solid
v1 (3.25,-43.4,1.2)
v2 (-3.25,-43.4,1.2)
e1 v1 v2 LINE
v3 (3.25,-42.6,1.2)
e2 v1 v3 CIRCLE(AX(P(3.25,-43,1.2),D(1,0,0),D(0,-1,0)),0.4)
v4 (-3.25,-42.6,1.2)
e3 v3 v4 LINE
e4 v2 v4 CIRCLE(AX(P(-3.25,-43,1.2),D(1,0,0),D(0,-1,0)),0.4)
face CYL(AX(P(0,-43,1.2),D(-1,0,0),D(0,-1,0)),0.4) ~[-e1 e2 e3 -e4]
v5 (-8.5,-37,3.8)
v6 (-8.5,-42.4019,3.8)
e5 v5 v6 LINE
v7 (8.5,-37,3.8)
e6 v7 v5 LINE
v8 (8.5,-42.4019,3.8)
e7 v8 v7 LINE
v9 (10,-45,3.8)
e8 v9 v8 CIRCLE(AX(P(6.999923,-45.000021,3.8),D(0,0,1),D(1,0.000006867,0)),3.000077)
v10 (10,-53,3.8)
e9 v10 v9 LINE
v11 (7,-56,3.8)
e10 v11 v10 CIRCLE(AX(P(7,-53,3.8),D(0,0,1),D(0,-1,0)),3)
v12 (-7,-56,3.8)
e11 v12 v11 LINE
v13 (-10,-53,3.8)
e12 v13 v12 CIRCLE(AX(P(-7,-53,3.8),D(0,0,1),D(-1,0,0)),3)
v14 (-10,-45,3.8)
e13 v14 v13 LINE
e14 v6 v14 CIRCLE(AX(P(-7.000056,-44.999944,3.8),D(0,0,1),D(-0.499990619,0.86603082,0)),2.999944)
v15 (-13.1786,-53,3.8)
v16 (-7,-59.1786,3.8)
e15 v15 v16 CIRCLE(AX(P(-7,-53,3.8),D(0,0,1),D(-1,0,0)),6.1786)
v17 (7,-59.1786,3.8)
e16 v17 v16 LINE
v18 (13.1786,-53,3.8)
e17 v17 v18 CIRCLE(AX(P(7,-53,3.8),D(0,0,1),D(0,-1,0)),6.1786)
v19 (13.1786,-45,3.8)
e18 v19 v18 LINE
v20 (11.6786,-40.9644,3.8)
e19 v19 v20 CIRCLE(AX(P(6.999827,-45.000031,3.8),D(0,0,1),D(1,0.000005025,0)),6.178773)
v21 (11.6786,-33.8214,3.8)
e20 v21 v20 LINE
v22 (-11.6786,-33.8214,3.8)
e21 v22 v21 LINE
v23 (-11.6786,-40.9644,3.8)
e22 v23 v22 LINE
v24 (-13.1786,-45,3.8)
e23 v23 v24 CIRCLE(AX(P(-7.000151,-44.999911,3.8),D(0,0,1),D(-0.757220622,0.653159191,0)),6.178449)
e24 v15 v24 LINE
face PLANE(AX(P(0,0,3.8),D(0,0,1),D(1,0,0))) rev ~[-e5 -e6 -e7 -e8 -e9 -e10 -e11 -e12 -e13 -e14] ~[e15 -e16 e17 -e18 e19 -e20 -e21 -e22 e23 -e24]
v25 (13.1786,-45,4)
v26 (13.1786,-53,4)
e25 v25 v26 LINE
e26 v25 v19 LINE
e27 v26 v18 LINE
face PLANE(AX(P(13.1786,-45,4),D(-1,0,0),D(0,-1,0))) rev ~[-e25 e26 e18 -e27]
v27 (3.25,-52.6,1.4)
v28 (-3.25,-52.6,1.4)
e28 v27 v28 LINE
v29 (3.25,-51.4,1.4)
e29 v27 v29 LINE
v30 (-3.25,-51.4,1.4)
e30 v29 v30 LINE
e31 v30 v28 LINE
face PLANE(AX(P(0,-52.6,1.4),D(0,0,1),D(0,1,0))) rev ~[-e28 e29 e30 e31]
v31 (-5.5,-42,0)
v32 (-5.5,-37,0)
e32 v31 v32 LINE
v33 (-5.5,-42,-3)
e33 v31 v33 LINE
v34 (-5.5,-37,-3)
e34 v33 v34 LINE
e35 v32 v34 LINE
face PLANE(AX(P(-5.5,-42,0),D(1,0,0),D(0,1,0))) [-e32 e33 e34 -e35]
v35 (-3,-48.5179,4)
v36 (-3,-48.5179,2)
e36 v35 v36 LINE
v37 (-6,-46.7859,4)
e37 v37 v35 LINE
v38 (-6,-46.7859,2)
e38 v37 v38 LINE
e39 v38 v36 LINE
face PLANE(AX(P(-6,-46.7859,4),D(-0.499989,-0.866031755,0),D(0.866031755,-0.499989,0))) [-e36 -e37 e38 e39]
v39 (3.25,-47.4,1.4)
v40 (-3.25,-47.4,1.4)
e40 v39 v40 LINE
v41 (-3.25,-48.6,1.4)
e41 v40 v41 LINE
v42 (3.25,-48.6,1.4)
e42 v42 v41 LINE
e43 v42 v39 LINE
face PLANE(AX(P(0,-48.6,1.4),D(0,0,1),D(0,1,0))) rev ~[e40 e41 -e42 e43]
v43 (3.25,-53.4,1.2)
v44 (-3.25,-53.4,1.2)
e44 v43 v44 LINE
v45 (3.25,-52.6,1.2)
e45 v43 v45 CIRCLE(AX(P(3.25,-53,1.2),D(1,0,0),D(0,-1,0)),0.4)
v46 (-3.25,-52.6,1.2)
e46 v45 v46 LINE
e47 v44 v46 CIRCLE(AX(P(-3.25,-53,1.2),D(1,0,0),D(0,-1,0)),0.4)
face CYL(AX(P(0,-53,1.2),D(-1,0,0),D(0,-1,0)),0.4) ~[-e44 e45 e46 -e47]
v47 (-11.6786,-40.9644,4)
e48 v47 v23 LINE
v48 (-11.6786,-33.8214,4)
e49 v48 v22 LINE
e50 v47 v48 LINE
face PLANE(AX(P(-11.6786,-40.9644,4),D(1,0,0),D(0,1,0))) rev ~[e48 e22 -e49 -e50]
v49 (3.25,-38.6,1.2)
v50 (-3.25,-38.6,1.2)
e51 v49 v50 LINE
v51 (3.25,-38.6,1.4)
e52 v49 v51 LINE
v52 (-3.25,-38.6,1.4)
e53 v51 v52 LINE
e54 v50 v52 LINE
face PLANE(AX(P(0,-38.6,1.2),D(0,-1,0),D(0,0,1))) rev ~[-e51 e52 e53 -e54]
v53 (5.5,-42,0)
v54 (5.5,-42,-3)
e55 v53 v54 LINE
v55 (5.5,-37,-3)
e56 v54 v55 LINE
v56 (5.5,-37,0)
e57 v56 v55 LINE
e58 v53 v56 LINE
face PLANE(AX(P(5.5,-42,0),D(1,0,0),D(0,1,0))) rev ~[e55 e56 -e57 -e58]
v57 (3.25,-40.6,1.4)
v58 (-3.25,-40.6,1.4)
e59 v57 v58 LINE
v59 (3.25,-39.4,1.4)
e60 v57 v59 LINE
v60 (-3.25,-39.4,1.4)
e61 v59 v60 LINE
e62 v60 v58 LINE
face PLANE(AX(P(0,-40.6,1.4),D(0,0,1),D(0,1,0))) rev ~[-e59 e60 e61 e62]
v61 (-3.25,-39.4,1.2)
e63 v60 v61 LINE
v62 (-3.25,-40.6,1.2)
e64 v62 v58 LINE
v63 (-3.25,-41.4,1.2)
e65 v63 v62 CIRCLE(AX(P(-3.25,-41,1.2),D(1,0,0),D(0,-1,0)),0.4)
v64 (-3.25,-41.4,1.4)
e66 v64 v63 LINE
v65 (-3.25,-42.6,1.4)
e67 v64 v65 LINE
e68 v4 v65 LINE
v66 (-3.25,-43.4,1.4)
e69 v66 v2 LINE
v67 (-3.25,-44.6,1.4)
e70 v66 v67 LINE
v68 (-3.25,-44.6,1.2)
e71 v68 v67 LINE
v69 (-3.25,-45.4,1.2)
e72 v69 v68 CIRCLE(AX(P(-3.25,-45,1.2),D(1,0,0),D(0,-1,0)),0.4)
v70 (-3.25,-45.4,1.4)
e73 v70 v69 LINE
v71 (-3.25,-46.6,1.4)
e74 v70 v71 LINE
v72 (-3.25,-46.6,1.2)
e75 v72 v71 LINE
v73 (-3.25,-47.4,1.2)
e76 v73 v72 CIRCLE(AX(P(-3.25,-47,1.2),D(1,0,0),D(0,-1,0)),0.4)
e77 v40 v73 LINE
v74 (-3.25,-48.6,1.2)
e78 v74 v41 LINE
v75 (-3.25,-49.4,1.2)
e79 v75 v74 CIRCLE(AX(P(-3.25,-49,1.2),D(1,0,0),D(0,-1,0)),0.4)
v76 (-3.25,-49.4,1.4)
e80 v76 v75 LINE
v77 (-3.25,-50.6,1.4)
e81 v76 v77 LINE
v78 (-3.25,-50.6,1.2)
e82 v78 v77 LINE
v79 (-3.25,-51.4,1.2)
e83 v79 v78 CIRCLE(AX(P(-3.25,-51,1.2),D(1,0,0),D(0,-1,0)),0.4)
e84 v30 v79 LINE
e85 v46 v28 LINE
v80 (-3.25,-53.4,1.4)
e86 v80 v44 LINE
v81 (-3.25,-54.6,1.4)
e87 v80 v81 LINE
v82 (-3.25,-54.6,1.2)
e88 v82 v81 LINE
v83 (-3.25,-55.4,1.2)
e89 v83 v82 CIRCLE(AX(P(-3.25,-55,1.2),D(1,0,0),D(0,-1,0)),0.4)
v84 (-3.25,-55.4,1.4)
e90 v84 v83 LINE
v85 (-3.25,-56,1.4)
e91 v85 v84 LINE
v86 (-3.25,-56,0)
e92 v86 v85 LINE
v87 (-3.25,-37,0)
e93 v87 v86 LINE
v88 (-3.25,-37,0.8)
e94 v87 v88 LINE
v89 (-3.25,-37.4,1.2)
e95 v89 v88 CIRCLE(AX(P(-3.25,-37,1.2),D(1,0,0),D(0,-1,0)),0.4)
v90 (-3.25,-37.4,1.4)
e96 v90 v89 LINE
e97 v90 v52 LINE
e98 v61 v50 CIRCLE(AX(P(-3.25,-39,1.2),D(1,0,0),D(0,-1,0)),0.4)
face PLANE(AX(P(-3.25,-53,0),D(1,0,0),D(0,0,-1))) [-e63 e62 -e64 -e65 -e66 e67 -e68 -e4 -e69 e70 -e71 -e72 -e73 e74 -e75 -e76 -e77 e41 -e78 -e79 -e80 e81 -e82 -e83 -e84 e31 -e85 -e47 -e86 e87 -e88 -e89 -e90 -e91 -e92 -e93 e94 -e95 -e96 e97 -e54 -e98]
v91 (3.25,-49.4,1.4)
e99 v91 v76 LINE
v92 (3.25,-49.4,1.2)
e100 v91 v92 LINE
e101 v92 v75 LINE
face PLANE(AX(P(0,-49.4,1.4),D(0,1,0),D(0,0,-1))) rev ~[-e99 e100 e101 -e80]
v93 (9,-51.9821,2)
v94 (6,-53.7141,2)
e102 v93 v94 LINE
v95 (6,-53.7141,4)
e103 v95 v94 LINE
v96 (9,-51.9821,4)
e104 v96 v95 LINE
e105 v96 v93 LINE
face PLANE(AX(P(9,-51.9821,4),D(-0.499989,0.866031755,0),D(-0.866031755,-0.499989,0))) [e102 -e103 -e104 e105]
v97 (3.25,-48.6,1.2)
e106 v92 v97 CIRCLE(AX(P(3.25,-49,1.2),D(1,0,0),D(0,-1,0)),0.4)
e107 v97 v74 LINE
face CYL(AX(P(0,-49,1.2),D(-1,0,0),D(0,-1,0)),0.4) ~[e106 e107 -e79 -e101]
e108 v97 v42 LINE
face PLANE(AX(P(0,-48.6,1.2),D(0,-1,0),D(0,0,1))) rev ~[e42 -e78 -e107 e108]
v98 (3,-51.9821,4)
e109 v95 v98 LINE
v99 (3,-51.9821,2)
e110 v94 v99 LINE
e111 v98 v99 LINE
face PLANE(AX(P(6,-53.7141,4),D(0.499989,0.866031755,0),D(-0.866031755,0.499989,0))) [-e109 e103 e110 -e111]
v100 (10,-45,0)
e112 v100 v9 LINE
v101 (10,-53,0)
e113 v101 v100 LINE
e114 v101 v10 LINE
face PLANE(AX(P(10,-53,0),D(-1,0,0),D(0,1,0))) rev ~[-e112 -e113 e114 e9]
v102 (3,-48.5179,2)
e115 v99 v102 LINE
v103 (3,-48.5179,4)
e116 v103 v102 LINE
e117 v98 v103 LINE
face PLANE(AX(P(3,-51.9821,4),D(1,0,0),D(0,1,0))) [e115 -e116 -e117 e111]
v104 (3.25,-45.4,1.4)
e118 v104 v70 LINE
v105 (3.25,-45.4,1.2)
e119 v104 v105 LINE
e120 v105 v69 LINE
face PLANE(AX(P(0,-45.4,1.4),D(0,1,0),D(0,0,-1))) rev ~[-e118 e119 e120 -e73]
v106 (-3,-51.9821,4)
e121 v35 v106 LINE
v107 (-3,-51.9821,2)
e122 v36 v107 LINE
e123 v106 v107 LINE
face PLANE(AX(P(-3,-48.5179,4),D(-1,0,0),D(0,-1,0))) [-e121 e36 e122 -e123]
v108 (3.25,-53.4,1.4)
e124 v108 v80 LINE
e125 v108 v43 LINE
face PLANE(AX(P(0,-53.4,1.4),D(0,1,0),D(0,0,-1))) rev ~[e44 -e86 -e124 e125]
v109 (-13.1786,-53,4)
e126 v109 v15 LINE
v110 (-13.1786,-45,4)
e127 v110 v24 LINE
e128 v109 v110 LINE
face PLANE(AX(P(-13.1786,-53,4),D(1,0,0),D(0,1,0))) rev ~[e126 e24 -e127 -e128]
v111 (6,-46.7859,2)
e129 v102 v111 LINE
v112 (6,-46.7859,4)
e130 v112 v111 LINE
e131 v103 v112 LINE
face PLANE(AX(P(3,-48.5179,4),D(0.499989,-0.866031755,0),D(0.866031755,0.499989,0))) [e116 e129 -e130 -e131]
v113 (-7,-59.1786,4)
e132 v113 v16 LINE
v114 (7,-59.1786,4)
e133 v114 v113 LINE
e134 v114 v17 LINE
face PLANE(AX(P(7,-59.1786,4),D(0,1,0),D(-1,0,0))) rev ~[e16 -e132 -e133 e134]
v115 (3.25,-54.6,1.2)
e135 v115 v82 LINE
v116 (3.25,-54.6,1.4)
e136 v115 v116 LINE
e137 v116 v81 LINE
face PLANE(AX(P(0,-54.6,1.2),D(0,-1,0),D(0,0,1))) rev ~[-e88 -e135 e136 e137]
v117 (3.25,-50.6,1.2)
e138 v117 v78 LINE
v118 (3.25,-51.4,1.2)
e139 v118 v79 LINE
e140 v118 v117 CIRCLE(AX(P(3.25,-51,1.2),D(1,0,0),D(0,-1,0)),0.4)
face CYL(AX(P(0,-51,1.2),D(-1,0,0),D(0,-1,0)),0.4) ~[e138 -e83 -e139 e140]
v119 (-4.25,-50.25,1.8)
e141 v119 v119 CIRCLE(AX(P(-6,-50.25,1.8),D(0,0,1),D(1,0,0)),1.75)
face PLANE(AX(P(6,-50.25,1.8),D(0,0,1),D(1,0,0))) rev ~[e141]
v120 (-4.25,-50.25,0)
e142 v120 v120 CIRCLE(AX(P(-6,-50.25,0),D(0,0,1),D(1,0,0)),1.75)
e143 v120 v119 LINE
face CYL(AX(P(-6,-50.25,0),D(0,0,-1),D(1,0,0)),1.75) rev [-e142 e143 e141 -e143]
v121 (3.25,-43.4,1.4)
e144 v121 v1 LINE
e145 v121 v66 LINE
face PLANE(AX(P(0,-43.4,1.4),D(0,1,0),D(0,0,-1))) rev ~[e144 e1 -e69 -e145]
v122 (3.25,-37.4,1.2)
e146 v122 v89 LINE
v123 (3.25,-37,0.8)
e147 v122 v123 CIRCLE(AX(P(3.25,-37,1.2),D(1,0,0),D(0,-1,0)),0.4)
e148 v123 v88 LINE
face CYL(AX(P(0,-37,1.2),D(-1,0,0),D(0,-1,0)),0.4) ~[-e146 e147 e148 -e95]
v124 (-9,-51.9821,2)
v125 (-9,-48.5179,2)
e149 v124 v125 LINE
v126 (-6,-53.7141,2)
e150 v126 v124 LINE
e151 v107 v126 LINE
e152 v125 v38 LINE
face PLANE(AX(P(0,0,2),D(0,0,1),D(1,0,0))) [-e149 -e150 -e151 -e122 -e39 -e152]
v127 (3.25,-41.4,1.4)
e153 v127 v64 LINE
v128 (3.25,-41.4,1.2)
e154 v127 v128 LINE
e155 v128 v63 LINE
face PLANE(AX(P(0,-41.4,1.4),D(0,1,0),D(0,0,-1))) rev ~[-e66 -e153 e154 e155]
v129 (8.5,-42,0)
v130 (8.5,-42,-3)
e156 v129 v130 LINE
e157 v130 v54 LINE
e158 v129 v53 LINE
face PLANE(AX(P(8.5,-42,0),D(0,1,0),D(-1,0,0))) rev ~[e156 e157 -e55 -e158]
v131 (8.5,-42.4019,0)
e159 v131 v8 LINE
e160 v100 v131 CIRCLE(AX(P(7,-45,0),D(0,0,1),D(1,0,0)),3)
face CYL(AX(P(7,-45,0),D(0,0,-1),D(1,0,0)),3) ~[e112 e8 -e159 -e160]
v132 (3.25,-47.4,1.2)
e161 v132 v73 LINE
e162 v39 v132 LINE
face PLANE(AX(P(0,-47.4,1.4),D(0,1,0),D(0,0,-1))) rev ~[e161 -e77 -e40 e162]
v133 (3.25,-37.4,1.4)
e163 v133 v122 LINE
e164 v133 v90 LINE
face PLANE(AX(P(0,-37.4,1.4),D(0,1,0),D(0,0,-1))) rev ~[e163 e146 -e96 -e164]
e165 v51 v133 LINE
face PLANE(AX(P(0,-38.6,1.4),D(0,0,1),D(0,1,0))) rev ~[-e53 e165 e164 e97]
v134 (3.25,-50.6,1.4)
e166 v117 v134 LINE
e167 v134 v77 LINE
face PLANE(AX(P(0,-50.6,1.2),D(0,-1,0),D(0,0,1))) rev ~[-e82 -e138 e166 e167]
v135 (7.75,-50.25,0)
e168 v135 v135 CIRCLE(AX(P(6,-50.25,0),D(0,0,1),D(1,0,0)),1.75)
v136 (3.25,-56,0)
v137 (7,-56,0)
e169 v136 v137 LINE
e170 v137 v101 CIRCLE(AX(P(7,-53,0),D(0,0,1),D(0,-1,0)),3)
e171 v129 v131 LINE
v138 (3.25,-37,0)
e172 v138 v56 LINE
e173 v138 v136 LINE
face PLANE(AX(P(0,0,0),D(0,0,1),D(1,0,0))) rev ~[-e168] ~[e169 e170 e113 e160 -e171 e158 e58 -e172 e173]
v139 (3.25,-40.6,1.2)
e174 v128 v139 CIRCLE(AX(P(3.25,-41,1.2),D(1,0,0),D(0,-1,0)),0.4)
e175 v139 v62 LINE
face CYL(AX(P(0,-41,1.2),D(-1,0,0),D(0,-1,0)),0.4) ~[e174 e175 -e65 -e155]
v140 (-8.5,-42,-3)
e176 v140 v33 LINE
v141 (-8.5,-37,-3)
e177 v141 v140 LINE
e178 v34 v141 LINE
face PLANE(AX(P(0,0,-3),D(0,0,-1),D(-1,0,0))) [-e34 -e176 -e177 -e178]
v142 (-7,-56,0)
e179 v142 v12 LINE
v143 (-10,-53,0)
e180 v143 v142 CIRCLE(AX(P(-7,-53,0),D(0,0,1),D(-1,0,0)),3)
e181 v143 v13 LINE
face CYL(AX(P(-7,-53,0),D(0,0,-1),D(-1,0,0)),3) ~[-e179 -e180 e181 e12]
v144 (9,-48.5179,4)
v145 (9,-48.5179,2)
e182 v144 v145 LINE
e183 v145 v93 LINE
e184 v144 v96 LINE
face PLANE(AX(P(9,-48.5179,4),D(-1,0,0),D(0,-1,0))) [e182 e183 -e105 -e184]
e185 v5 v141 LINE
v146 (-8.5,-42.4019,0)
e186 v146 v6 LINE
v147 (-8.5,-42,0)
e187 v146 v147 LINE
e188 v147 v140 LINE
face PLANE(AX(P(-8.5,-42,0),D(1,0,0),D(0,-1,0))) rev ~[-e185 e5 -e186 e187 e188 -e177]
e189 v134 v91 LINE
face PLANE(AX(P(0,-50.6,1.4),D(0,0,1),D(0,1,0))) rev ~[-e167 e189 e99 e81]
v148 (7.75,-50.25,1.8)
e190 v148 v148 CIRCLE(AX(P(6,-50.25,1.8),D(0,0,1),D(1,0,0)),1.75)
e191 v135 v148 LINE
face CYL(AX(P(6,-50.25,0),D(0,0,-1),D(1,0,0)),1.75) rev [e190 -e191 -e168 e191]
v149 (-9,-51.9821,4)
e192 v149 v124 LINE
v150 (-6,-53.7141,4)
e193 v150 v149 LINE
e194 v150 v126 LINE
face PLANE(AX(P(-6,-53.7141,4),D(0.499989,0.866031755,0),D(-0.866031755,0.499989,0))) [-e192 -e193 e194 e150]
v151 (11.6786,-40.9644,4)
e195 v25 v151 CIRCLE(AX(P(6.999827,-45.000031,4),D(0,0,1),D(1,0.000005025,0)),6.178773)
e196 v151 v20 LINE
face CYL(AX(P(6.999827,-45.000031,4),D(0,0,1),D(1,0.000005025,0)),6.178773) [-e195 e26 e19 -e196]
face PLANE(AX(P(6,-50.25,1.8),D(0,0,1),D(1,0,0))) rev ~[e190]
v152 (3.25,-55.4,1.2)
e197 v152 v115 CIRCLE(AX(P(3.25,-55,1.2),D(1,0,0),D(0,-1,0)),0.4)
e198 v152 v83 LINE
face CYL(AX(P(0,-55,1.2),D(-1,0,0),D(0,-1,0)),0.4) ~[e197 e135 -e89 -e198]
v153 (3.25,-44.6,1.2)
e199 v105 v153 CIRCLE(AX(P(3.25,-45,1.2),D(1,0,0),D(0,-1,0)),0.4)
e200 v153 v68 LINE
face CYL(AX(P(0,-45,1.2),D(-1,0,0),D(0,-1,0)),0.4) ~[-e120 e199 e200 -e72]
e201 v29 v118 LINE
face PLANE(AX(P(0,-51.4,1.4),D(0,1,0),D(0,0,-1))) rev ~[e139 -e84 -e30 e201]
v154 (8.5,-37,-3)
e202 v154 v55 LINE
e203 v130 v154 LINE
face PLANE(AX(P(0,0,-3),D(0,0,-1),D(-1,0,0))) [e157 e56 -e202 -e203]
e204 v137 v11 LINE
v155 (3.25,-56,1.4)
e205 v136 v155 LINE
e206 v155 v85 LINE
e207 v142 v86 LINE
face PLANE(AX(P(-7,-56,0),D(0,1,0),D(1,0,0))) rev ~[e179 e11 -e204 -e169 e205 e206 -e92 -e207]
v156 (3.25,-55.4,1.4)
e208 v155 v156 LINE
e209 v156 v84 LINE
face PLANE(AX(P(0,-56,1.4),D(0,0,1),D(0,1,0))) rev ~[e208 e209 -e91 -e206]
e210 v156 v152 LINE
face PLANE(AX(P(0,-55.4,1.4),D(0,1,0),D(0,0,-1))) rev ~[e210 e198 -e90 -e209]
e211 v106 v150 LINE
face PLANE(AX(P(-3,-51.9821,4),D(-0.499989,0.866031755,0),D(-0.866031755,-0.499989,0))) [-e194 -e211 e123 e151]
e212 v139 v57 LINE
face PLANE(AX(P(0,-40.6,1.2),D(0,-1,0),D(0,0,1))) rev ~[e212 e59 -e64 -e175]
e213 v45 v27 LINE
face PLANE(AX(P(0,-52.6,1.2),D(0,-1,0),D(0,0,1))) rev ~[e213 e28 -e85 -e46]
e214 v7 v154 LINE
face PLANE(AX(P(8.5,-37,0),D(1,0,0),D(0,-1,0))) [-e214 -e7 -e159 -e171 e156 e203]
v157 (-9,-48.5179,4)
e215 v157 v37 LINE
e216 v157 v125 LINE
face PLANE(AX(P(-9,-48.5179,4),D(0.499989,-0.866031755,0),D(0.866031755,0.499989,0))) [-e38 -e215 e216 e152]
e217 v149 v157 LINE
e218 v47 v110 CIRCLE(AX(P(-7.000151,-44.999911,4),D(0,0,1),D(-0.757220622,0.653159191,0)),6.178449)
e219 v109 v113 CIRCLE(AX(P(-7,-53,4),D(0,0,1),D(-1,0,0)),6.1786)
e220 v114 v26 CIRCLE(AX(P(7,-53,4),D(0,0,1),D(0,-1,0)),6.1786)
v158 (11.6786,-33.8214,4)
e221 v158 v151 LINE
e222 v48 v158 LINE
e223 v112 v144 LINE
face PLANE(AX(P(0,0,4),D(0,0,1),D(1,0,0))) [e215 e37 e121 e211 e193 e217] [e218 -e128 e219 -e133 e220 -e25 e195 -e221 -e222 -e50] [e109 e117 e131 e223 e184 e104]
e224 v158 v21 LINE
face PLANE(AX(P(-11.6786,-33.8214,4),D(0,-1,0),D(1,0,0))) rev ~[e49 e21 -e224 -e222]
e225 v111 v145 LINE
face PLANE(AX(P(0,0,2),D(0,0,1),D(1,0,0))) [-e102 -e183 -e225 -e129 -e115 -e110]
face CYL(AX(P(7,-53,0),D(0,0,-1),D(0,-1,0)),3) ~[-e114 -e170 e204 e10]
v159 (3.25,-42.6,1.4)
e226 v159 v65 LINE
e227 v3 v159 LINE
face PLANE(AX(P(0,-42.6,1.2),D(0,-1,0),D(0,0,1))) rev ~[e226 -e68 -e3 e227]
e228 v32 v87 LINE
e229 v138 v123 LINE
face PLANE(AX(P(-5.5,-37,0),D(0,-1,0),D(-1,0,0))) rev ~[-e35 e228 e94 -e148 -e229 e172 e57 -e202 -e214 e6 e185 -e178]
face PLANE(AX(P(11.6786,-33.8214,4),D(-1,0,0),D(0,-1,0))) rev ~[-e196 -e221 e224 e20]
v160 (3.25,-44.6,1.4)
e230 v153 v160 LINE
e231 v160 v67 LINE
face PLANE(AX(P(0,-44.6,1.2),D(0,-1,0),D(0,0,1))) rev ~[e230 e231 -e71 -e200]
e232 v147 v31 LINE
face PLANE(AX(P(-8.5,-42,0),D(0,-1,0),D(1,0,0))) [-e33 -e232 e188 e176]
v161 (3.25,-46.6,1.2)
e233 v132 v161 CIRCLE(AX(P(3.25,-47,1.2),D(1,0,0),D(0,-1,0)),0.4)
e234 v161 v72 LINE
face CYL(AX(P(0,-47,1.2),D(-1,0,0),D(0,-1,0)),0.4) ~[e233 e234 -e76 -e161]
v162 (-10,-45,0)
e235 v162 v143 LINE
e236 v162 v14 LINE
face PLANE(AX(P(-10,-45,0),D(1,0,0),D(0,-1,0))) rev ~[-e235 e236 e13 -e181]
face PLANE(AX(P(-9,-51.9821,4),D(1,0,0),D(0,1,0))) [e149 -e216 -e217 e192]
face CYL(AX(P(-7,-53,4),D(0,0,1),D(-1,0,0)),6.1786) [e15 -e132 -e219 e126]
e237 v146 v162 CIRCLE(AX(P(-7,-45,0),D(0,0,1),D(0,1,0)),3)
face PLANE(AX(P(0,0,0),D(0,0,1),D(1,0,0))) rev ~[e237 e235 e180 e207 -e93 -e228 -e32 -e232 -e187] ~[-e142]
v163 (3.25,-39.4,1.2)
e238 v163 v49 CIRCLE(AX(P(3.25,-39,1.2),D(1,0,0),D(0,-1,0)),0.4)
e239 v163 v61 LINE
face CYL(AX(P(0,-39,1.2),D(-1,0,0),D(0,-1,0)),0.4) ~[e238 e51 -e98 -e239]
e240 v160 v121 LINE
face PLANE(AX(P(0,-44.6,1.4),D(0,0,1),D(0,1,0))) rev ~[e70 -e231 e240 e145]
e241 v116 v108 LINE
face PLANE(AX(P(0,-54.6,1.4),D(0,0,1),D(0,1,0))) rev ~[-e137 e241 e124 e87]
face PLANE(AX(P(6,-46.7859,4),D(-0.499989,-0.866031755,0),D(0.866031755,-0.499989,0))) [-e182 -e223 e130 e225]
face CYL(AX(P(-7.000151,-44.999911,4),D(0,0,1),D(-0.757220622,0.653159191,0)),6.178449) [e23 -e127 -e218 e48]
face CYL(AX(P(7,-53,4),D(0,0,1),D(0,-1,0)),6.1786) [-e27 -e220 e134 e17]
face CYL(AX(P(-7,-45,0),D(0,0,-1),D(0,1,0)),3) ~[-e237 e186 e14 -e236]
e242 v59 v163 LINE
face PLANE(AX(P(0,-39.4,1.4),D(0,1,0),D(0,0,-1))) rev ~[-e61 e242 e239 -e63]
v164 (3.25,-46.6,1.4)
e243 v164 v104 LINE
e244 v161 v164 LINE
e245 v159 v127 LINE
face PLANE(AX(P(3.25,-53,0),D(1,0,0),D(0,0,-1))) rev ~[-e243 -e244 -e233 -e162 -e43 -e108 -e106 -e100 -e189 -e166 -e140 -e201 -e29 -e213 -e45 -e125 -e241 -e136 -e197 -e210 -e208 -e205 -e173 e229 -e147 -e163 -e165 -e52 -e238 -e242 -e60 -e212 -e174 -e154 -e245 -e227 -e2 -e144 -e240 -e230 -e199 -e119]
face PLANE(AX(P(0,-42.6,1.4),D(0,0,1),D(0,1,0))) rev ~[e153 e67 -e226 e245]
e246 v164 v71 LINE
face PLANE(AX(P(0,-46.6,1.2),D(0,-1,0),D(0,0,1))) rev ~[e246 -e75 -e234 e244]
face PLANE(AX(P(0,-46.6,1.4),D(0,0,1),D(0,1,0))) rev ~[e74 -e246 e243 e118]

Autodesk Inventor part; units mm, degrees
ref_plane "YZ Plane" through (0, 0, 0) normal (1, 0, 0) x (0, 1, 0)
ref_plane "Płaszczyzna konstrukcyjna1" through (0, 0, 0) normal (0, 0, 1) x (1, 0, 0)
sketch "Szkic1" plane through (0, 0, 0) normal (0, 0, 1) x (1, 0, 0)
  circle A0 centre (6, -50.25) radius 1.75 projected
  circle A1 centre (-6, -50.25) radius 1.75 projected
  circle A2 centre (6, -3.75) radius 1.75 construction
  circle A3 centre (-6, -3.75) radius 1.75 construction
  arc A4 (7, -56) -> (10, -53) centre (7, -53) ccw projected
  line L0 (10, -53) -> (10, -45) projected
  arc A5 (10, -45) -> (7, -42) centre (7, -45) ccw projected
  line L1 (7, -42) -> (5, -42) projected
  line L2 (5, -42) -> (5, -12) construction
  line L3 (5, -12) -> (7, -12) construction
  arc A6 (7, -12) -> (10, -9) centre (7, -9) ccw construction
  line L4 (10, -9) -> (10, -1) construction
  arc A7 (10, -1) -> (7, 2) centre (7, -1) ccw construction
  line L5 (7, 2) -> (-7, 2) construction
  arc A8 (-7, 2) -> (-10, -1) centre (-7, -1) ccw construction
  line L6 (-10, -1) -> (-10, -9) construction
  arc A9 (-10, -9) -> (-7, -12) centre (-7, -9) ccw construction
  line L7 (-7, -12) -> (-5, -12) construction
  line L8 (-5, -12) -> (-5, -42) construction
  line L9 (-5, -42) -> (-7, -42) projected
  arc A10 (-7, -42) -> (-10, -45) centre (-7, -45) ccw projected
  line L10 (-10, -45) -> (-10, -53) projected
  arc A11 (-10, -53) -> (-7, -56) centre (-7, -53) ccw projected
  line L11 (-7, -56) -> (7, -56) projected
  line L12 (-5.5, -42) -> (5.5, -42)
  line L13 (5.5, -42) -> (5.5, -37)
  line L14 (5.5, -37) -> (-5.5, -37)
  line L15 (-5.5, -37) -> (-5.5, -42)
  line L16 (0, -56) -> (0, 2) construction
  line L17 (-5.5, -37) -> (-8.5, -37)
  line L18 (-8.5, -37) -> (-8.5, -42)
  line L19 (-8.5, -42) -> (-5.5, -42)
  line L20 (-5.5, -42) -> (-5.5, -37)
  line L21 (5.5, -37) -> (8.5, -37)
  line L22 (8.5, -37) -> (8.5, -42)
  line L23 (8.5, -42) -> (5.5, -42)
  line L24 (5.5, -42) -> (5.5, -37)
  line L25 (-8.5, -42) -> (-8.5, -42.4019)
  line L26 (8.5, -42) -> (8.5, -42.4019)
  dimension "d0" = 11
  dimension "d1" = 3
  dimension "d2" = 3
  dimension "d3" = 5
extrude "Wyciągnięcie proste1" add sketch "Szkic1" along normal blind 4
ref_plane "Płaszczyzna konstrukcyjna2" through (0, -53, 0) normal (1, 0, 0) x (0, 0, -1)
sketch "Szkic2" plane through (0, -53, 0) normal (1, 0, 0) x (0, 0, -1)
  line L0 (0, -3) -> (-4, -3) projected
  line L1 (-4, -3) -> (-4, 16) projected
  line L2 (-4, 16) -> (0, 16) projected
  line L3 (0, 16) -> (0, -3) projected
  line L4 (-1.4, -3) -> (-1.4, -1) construction
  line L5 (-1.4, -3) -> (-1.4, -2.4)
  line L6 (-1.4, -2.4) -> (-1.2, -2.4)
  arc A0 (-1.2, -2.4) -> (-1.2, -1.6) centre (-1.2, -2) ccw
  line L7 (-1.2, -1.6) -> (-1.4, -1.6)
  line L8 (-1.4, -1.6) -> (-1.4, -1)
  line L9 (-1.4, -2) -> (-1.2, -2) construction
  line L10 (-1.4, -1) -> (0, -1)
  line L11 (0, -1) -> (0, -3)
  line L12 (0, -3) -> (-1.4, -3)
  point P0 (0, 53)
  dimension "d6" = 2
  dimension "d7" = 1.4
  dimension "d8" = 0.4
  dimension "d9" = 0.2
extrude "Wyciągnięcie proste2" cut sketch "Szkic2" along normal mid plane 6.5 contours L0 L5 L6 A0 L7 L8 L10 L3
pattern_linear "Szyk prostokątny1" count 10 spacing 2 along (0, 1, 0) of "Wyciągnięcie proste2"
sketch "Szkic3" plane through (0, 0, 4) normal (0, 0, 1) x (1, 0, 0)
  circle A0 centre (-6, -50.25) radius 1.75 projected
  circle A1 centre (6, -50.25) radius 1.75 projected
  line L0 (10, -53) -> (10, -45) projected
  line L1 (-6, -46.7859) -> (-3, -48.5179)
  line L2 (-3, -48.5179) -> (-3, -51.9821)
  line L3 (-3, -51.9821) -> (-6, -53.7141)
  line L4 (-6, -53.7141) -> (-9, -51.9821)
  line L5 (-9, -51.9821) -> (-9, -48.5179)
  line L6 (-9, -48.5179) -> (-6, -46.7859)
  line L7 (6, -46.7859) -> (9, -48.5179)
  line L8 (9, -48.5179) -> (9, -51.9821)
  line L9 (9, -51.9821) -> (6, -53.7141)
  line L10 (6, -53.7141) -> (3, -51.9821)
  line L11 (3, -51.9821) -> (3, -48.5179)
  line L12 (3, -48.5179) -> (6, -46.7859)
  point P0 (0, 0)
  dimension "d23" = 6
  dimension "d24" = 6
extrude "Wyciągnięcie proste3" cut sketch "Szkic3" against normal blind 2
sketch "Szkic4" plane through (0, 0, 0) normal (0, 0, -1) x (-1, 0, 0)
  line L0 (8.5, -37) -> (8.5, -42.4019) projected
  line L1 (3.25, -37) -> (8.5, -37) projected
  line L2 (-5.5, -42) -> (-5.5, -37) projected
  line L3 (-8.5, -42) -> (-5.5, -42) projected
  line L4 (5.5, -42) -> (5.5, -37) projected
  line L5 (8.5, -42) -> (5.5, -42) projected
  line L6 (-3.25, -56) -> (-3.25, -37) projected
  line L7 (-8.5, -37) -> (-3.25, -37) projected
  line L8 (-8.5, -42.4019) -> (-8.5, -37) projected
  arc A0 (-8.5, -42.4019) -> (-10, -45) centre (-7, -45) ccw projected
  line L9 (-10, -53) -> (-10, -45) projected
  arc A1 (-10, -53) -> (-7, -56) centre (-7, -53) ccw projected
  line L10 (-3.25, -56) -> (-7, -56) projected
  circle A2 centre (-6, -50.25) radius 1.75 projected
  line L11 (-8.5, -42) -> (-8.5, -37)
  line L12 (-8.5, -37) -> (-5.5, -37)
  point P0 (0, 0)
extrude "Wyciągnięcie proste4" add sketch "Szkic4" along normal blind 3 contours L0 L5 L4 L1 | L3 L8 L7 L2
sketch "Szkic5" plane through (6, -50.25, 2) normal (0, 0, 1) x (1, 0, 0)
  circle A0 centre (0, 0) radius 1.75 projected
  circle A1 centre (-12, 0) radius 1.75 projected
  point P0 (-6, 50.25)
extrude "Wyciągnięcie proste5" add sketch "Szkic5" against normal blind 0.2
sketch "Szkic6" plane through (0, 0, 4) normal (0, 0, 1) x (1, 0, 0)
  line L0 (8.5, -37) -> (-8.5, -37) projected
  line L1 (-8.5, -37) -> (-8.5, -42.4019) projected
  arc A0 (-8.5, -42.4019) -> (-10, -45) centre (-7, -45) ccw projected
  line L2 (-10, -45) -> (-10, -53) projected
  arc A1 (-10, -53) -> (-7, -56) centre (-7, -53) ccw projected
  line L3 (-7, -56) -> (7, -56) projected
  arc A2 (7, -56) -> (10, -53) centre (7, -53) ccw projected
  line L4 (10, -53) -> (10, -45) projected
  arc A3 (10, -45) -> (8.5, -42.4019) centre (7, -45) ccw projected
  line L5 (8.5, -42.4019) -> (8.5, -37) projected
  line L6 (-11.6786, -33.8214) -> (11.6786, -33.8214)
  line L7 (11.6786, -33.8214) -> (11.6786, -40.9644)
  arc A4 (13.1786, -45) -> (11.6786, -40.9644) centre (7, -45) ccw
  line L8 (13.1786, -45) -> (13.1786, -53)
  arc A5 (7, -59.1786) -> (13.1786, -53) centre (7, -53) ccw
  line L9 (7, -59.1786) -> (-7, -59.1786)
  arc A6 (-13.1786, -53) -> (-7, -59.1786) centre (-7, -53) ccw
  line L10 (-13.1786, -53) -> (-13.1786, -45)
  arc A7 (-11.6786, -40.9644) -> (-13.1786, -45) centre (-7, -45) ccw
  line L11 (-11.6786, -40.9644) -> (-11.6786, -33.8214)
  point P0 (0, 0)
extrude "Wyciągnięcie proste6" add sketch "Szkic6" against normal blind 0.2
properties part number "bed_belt_clip"
